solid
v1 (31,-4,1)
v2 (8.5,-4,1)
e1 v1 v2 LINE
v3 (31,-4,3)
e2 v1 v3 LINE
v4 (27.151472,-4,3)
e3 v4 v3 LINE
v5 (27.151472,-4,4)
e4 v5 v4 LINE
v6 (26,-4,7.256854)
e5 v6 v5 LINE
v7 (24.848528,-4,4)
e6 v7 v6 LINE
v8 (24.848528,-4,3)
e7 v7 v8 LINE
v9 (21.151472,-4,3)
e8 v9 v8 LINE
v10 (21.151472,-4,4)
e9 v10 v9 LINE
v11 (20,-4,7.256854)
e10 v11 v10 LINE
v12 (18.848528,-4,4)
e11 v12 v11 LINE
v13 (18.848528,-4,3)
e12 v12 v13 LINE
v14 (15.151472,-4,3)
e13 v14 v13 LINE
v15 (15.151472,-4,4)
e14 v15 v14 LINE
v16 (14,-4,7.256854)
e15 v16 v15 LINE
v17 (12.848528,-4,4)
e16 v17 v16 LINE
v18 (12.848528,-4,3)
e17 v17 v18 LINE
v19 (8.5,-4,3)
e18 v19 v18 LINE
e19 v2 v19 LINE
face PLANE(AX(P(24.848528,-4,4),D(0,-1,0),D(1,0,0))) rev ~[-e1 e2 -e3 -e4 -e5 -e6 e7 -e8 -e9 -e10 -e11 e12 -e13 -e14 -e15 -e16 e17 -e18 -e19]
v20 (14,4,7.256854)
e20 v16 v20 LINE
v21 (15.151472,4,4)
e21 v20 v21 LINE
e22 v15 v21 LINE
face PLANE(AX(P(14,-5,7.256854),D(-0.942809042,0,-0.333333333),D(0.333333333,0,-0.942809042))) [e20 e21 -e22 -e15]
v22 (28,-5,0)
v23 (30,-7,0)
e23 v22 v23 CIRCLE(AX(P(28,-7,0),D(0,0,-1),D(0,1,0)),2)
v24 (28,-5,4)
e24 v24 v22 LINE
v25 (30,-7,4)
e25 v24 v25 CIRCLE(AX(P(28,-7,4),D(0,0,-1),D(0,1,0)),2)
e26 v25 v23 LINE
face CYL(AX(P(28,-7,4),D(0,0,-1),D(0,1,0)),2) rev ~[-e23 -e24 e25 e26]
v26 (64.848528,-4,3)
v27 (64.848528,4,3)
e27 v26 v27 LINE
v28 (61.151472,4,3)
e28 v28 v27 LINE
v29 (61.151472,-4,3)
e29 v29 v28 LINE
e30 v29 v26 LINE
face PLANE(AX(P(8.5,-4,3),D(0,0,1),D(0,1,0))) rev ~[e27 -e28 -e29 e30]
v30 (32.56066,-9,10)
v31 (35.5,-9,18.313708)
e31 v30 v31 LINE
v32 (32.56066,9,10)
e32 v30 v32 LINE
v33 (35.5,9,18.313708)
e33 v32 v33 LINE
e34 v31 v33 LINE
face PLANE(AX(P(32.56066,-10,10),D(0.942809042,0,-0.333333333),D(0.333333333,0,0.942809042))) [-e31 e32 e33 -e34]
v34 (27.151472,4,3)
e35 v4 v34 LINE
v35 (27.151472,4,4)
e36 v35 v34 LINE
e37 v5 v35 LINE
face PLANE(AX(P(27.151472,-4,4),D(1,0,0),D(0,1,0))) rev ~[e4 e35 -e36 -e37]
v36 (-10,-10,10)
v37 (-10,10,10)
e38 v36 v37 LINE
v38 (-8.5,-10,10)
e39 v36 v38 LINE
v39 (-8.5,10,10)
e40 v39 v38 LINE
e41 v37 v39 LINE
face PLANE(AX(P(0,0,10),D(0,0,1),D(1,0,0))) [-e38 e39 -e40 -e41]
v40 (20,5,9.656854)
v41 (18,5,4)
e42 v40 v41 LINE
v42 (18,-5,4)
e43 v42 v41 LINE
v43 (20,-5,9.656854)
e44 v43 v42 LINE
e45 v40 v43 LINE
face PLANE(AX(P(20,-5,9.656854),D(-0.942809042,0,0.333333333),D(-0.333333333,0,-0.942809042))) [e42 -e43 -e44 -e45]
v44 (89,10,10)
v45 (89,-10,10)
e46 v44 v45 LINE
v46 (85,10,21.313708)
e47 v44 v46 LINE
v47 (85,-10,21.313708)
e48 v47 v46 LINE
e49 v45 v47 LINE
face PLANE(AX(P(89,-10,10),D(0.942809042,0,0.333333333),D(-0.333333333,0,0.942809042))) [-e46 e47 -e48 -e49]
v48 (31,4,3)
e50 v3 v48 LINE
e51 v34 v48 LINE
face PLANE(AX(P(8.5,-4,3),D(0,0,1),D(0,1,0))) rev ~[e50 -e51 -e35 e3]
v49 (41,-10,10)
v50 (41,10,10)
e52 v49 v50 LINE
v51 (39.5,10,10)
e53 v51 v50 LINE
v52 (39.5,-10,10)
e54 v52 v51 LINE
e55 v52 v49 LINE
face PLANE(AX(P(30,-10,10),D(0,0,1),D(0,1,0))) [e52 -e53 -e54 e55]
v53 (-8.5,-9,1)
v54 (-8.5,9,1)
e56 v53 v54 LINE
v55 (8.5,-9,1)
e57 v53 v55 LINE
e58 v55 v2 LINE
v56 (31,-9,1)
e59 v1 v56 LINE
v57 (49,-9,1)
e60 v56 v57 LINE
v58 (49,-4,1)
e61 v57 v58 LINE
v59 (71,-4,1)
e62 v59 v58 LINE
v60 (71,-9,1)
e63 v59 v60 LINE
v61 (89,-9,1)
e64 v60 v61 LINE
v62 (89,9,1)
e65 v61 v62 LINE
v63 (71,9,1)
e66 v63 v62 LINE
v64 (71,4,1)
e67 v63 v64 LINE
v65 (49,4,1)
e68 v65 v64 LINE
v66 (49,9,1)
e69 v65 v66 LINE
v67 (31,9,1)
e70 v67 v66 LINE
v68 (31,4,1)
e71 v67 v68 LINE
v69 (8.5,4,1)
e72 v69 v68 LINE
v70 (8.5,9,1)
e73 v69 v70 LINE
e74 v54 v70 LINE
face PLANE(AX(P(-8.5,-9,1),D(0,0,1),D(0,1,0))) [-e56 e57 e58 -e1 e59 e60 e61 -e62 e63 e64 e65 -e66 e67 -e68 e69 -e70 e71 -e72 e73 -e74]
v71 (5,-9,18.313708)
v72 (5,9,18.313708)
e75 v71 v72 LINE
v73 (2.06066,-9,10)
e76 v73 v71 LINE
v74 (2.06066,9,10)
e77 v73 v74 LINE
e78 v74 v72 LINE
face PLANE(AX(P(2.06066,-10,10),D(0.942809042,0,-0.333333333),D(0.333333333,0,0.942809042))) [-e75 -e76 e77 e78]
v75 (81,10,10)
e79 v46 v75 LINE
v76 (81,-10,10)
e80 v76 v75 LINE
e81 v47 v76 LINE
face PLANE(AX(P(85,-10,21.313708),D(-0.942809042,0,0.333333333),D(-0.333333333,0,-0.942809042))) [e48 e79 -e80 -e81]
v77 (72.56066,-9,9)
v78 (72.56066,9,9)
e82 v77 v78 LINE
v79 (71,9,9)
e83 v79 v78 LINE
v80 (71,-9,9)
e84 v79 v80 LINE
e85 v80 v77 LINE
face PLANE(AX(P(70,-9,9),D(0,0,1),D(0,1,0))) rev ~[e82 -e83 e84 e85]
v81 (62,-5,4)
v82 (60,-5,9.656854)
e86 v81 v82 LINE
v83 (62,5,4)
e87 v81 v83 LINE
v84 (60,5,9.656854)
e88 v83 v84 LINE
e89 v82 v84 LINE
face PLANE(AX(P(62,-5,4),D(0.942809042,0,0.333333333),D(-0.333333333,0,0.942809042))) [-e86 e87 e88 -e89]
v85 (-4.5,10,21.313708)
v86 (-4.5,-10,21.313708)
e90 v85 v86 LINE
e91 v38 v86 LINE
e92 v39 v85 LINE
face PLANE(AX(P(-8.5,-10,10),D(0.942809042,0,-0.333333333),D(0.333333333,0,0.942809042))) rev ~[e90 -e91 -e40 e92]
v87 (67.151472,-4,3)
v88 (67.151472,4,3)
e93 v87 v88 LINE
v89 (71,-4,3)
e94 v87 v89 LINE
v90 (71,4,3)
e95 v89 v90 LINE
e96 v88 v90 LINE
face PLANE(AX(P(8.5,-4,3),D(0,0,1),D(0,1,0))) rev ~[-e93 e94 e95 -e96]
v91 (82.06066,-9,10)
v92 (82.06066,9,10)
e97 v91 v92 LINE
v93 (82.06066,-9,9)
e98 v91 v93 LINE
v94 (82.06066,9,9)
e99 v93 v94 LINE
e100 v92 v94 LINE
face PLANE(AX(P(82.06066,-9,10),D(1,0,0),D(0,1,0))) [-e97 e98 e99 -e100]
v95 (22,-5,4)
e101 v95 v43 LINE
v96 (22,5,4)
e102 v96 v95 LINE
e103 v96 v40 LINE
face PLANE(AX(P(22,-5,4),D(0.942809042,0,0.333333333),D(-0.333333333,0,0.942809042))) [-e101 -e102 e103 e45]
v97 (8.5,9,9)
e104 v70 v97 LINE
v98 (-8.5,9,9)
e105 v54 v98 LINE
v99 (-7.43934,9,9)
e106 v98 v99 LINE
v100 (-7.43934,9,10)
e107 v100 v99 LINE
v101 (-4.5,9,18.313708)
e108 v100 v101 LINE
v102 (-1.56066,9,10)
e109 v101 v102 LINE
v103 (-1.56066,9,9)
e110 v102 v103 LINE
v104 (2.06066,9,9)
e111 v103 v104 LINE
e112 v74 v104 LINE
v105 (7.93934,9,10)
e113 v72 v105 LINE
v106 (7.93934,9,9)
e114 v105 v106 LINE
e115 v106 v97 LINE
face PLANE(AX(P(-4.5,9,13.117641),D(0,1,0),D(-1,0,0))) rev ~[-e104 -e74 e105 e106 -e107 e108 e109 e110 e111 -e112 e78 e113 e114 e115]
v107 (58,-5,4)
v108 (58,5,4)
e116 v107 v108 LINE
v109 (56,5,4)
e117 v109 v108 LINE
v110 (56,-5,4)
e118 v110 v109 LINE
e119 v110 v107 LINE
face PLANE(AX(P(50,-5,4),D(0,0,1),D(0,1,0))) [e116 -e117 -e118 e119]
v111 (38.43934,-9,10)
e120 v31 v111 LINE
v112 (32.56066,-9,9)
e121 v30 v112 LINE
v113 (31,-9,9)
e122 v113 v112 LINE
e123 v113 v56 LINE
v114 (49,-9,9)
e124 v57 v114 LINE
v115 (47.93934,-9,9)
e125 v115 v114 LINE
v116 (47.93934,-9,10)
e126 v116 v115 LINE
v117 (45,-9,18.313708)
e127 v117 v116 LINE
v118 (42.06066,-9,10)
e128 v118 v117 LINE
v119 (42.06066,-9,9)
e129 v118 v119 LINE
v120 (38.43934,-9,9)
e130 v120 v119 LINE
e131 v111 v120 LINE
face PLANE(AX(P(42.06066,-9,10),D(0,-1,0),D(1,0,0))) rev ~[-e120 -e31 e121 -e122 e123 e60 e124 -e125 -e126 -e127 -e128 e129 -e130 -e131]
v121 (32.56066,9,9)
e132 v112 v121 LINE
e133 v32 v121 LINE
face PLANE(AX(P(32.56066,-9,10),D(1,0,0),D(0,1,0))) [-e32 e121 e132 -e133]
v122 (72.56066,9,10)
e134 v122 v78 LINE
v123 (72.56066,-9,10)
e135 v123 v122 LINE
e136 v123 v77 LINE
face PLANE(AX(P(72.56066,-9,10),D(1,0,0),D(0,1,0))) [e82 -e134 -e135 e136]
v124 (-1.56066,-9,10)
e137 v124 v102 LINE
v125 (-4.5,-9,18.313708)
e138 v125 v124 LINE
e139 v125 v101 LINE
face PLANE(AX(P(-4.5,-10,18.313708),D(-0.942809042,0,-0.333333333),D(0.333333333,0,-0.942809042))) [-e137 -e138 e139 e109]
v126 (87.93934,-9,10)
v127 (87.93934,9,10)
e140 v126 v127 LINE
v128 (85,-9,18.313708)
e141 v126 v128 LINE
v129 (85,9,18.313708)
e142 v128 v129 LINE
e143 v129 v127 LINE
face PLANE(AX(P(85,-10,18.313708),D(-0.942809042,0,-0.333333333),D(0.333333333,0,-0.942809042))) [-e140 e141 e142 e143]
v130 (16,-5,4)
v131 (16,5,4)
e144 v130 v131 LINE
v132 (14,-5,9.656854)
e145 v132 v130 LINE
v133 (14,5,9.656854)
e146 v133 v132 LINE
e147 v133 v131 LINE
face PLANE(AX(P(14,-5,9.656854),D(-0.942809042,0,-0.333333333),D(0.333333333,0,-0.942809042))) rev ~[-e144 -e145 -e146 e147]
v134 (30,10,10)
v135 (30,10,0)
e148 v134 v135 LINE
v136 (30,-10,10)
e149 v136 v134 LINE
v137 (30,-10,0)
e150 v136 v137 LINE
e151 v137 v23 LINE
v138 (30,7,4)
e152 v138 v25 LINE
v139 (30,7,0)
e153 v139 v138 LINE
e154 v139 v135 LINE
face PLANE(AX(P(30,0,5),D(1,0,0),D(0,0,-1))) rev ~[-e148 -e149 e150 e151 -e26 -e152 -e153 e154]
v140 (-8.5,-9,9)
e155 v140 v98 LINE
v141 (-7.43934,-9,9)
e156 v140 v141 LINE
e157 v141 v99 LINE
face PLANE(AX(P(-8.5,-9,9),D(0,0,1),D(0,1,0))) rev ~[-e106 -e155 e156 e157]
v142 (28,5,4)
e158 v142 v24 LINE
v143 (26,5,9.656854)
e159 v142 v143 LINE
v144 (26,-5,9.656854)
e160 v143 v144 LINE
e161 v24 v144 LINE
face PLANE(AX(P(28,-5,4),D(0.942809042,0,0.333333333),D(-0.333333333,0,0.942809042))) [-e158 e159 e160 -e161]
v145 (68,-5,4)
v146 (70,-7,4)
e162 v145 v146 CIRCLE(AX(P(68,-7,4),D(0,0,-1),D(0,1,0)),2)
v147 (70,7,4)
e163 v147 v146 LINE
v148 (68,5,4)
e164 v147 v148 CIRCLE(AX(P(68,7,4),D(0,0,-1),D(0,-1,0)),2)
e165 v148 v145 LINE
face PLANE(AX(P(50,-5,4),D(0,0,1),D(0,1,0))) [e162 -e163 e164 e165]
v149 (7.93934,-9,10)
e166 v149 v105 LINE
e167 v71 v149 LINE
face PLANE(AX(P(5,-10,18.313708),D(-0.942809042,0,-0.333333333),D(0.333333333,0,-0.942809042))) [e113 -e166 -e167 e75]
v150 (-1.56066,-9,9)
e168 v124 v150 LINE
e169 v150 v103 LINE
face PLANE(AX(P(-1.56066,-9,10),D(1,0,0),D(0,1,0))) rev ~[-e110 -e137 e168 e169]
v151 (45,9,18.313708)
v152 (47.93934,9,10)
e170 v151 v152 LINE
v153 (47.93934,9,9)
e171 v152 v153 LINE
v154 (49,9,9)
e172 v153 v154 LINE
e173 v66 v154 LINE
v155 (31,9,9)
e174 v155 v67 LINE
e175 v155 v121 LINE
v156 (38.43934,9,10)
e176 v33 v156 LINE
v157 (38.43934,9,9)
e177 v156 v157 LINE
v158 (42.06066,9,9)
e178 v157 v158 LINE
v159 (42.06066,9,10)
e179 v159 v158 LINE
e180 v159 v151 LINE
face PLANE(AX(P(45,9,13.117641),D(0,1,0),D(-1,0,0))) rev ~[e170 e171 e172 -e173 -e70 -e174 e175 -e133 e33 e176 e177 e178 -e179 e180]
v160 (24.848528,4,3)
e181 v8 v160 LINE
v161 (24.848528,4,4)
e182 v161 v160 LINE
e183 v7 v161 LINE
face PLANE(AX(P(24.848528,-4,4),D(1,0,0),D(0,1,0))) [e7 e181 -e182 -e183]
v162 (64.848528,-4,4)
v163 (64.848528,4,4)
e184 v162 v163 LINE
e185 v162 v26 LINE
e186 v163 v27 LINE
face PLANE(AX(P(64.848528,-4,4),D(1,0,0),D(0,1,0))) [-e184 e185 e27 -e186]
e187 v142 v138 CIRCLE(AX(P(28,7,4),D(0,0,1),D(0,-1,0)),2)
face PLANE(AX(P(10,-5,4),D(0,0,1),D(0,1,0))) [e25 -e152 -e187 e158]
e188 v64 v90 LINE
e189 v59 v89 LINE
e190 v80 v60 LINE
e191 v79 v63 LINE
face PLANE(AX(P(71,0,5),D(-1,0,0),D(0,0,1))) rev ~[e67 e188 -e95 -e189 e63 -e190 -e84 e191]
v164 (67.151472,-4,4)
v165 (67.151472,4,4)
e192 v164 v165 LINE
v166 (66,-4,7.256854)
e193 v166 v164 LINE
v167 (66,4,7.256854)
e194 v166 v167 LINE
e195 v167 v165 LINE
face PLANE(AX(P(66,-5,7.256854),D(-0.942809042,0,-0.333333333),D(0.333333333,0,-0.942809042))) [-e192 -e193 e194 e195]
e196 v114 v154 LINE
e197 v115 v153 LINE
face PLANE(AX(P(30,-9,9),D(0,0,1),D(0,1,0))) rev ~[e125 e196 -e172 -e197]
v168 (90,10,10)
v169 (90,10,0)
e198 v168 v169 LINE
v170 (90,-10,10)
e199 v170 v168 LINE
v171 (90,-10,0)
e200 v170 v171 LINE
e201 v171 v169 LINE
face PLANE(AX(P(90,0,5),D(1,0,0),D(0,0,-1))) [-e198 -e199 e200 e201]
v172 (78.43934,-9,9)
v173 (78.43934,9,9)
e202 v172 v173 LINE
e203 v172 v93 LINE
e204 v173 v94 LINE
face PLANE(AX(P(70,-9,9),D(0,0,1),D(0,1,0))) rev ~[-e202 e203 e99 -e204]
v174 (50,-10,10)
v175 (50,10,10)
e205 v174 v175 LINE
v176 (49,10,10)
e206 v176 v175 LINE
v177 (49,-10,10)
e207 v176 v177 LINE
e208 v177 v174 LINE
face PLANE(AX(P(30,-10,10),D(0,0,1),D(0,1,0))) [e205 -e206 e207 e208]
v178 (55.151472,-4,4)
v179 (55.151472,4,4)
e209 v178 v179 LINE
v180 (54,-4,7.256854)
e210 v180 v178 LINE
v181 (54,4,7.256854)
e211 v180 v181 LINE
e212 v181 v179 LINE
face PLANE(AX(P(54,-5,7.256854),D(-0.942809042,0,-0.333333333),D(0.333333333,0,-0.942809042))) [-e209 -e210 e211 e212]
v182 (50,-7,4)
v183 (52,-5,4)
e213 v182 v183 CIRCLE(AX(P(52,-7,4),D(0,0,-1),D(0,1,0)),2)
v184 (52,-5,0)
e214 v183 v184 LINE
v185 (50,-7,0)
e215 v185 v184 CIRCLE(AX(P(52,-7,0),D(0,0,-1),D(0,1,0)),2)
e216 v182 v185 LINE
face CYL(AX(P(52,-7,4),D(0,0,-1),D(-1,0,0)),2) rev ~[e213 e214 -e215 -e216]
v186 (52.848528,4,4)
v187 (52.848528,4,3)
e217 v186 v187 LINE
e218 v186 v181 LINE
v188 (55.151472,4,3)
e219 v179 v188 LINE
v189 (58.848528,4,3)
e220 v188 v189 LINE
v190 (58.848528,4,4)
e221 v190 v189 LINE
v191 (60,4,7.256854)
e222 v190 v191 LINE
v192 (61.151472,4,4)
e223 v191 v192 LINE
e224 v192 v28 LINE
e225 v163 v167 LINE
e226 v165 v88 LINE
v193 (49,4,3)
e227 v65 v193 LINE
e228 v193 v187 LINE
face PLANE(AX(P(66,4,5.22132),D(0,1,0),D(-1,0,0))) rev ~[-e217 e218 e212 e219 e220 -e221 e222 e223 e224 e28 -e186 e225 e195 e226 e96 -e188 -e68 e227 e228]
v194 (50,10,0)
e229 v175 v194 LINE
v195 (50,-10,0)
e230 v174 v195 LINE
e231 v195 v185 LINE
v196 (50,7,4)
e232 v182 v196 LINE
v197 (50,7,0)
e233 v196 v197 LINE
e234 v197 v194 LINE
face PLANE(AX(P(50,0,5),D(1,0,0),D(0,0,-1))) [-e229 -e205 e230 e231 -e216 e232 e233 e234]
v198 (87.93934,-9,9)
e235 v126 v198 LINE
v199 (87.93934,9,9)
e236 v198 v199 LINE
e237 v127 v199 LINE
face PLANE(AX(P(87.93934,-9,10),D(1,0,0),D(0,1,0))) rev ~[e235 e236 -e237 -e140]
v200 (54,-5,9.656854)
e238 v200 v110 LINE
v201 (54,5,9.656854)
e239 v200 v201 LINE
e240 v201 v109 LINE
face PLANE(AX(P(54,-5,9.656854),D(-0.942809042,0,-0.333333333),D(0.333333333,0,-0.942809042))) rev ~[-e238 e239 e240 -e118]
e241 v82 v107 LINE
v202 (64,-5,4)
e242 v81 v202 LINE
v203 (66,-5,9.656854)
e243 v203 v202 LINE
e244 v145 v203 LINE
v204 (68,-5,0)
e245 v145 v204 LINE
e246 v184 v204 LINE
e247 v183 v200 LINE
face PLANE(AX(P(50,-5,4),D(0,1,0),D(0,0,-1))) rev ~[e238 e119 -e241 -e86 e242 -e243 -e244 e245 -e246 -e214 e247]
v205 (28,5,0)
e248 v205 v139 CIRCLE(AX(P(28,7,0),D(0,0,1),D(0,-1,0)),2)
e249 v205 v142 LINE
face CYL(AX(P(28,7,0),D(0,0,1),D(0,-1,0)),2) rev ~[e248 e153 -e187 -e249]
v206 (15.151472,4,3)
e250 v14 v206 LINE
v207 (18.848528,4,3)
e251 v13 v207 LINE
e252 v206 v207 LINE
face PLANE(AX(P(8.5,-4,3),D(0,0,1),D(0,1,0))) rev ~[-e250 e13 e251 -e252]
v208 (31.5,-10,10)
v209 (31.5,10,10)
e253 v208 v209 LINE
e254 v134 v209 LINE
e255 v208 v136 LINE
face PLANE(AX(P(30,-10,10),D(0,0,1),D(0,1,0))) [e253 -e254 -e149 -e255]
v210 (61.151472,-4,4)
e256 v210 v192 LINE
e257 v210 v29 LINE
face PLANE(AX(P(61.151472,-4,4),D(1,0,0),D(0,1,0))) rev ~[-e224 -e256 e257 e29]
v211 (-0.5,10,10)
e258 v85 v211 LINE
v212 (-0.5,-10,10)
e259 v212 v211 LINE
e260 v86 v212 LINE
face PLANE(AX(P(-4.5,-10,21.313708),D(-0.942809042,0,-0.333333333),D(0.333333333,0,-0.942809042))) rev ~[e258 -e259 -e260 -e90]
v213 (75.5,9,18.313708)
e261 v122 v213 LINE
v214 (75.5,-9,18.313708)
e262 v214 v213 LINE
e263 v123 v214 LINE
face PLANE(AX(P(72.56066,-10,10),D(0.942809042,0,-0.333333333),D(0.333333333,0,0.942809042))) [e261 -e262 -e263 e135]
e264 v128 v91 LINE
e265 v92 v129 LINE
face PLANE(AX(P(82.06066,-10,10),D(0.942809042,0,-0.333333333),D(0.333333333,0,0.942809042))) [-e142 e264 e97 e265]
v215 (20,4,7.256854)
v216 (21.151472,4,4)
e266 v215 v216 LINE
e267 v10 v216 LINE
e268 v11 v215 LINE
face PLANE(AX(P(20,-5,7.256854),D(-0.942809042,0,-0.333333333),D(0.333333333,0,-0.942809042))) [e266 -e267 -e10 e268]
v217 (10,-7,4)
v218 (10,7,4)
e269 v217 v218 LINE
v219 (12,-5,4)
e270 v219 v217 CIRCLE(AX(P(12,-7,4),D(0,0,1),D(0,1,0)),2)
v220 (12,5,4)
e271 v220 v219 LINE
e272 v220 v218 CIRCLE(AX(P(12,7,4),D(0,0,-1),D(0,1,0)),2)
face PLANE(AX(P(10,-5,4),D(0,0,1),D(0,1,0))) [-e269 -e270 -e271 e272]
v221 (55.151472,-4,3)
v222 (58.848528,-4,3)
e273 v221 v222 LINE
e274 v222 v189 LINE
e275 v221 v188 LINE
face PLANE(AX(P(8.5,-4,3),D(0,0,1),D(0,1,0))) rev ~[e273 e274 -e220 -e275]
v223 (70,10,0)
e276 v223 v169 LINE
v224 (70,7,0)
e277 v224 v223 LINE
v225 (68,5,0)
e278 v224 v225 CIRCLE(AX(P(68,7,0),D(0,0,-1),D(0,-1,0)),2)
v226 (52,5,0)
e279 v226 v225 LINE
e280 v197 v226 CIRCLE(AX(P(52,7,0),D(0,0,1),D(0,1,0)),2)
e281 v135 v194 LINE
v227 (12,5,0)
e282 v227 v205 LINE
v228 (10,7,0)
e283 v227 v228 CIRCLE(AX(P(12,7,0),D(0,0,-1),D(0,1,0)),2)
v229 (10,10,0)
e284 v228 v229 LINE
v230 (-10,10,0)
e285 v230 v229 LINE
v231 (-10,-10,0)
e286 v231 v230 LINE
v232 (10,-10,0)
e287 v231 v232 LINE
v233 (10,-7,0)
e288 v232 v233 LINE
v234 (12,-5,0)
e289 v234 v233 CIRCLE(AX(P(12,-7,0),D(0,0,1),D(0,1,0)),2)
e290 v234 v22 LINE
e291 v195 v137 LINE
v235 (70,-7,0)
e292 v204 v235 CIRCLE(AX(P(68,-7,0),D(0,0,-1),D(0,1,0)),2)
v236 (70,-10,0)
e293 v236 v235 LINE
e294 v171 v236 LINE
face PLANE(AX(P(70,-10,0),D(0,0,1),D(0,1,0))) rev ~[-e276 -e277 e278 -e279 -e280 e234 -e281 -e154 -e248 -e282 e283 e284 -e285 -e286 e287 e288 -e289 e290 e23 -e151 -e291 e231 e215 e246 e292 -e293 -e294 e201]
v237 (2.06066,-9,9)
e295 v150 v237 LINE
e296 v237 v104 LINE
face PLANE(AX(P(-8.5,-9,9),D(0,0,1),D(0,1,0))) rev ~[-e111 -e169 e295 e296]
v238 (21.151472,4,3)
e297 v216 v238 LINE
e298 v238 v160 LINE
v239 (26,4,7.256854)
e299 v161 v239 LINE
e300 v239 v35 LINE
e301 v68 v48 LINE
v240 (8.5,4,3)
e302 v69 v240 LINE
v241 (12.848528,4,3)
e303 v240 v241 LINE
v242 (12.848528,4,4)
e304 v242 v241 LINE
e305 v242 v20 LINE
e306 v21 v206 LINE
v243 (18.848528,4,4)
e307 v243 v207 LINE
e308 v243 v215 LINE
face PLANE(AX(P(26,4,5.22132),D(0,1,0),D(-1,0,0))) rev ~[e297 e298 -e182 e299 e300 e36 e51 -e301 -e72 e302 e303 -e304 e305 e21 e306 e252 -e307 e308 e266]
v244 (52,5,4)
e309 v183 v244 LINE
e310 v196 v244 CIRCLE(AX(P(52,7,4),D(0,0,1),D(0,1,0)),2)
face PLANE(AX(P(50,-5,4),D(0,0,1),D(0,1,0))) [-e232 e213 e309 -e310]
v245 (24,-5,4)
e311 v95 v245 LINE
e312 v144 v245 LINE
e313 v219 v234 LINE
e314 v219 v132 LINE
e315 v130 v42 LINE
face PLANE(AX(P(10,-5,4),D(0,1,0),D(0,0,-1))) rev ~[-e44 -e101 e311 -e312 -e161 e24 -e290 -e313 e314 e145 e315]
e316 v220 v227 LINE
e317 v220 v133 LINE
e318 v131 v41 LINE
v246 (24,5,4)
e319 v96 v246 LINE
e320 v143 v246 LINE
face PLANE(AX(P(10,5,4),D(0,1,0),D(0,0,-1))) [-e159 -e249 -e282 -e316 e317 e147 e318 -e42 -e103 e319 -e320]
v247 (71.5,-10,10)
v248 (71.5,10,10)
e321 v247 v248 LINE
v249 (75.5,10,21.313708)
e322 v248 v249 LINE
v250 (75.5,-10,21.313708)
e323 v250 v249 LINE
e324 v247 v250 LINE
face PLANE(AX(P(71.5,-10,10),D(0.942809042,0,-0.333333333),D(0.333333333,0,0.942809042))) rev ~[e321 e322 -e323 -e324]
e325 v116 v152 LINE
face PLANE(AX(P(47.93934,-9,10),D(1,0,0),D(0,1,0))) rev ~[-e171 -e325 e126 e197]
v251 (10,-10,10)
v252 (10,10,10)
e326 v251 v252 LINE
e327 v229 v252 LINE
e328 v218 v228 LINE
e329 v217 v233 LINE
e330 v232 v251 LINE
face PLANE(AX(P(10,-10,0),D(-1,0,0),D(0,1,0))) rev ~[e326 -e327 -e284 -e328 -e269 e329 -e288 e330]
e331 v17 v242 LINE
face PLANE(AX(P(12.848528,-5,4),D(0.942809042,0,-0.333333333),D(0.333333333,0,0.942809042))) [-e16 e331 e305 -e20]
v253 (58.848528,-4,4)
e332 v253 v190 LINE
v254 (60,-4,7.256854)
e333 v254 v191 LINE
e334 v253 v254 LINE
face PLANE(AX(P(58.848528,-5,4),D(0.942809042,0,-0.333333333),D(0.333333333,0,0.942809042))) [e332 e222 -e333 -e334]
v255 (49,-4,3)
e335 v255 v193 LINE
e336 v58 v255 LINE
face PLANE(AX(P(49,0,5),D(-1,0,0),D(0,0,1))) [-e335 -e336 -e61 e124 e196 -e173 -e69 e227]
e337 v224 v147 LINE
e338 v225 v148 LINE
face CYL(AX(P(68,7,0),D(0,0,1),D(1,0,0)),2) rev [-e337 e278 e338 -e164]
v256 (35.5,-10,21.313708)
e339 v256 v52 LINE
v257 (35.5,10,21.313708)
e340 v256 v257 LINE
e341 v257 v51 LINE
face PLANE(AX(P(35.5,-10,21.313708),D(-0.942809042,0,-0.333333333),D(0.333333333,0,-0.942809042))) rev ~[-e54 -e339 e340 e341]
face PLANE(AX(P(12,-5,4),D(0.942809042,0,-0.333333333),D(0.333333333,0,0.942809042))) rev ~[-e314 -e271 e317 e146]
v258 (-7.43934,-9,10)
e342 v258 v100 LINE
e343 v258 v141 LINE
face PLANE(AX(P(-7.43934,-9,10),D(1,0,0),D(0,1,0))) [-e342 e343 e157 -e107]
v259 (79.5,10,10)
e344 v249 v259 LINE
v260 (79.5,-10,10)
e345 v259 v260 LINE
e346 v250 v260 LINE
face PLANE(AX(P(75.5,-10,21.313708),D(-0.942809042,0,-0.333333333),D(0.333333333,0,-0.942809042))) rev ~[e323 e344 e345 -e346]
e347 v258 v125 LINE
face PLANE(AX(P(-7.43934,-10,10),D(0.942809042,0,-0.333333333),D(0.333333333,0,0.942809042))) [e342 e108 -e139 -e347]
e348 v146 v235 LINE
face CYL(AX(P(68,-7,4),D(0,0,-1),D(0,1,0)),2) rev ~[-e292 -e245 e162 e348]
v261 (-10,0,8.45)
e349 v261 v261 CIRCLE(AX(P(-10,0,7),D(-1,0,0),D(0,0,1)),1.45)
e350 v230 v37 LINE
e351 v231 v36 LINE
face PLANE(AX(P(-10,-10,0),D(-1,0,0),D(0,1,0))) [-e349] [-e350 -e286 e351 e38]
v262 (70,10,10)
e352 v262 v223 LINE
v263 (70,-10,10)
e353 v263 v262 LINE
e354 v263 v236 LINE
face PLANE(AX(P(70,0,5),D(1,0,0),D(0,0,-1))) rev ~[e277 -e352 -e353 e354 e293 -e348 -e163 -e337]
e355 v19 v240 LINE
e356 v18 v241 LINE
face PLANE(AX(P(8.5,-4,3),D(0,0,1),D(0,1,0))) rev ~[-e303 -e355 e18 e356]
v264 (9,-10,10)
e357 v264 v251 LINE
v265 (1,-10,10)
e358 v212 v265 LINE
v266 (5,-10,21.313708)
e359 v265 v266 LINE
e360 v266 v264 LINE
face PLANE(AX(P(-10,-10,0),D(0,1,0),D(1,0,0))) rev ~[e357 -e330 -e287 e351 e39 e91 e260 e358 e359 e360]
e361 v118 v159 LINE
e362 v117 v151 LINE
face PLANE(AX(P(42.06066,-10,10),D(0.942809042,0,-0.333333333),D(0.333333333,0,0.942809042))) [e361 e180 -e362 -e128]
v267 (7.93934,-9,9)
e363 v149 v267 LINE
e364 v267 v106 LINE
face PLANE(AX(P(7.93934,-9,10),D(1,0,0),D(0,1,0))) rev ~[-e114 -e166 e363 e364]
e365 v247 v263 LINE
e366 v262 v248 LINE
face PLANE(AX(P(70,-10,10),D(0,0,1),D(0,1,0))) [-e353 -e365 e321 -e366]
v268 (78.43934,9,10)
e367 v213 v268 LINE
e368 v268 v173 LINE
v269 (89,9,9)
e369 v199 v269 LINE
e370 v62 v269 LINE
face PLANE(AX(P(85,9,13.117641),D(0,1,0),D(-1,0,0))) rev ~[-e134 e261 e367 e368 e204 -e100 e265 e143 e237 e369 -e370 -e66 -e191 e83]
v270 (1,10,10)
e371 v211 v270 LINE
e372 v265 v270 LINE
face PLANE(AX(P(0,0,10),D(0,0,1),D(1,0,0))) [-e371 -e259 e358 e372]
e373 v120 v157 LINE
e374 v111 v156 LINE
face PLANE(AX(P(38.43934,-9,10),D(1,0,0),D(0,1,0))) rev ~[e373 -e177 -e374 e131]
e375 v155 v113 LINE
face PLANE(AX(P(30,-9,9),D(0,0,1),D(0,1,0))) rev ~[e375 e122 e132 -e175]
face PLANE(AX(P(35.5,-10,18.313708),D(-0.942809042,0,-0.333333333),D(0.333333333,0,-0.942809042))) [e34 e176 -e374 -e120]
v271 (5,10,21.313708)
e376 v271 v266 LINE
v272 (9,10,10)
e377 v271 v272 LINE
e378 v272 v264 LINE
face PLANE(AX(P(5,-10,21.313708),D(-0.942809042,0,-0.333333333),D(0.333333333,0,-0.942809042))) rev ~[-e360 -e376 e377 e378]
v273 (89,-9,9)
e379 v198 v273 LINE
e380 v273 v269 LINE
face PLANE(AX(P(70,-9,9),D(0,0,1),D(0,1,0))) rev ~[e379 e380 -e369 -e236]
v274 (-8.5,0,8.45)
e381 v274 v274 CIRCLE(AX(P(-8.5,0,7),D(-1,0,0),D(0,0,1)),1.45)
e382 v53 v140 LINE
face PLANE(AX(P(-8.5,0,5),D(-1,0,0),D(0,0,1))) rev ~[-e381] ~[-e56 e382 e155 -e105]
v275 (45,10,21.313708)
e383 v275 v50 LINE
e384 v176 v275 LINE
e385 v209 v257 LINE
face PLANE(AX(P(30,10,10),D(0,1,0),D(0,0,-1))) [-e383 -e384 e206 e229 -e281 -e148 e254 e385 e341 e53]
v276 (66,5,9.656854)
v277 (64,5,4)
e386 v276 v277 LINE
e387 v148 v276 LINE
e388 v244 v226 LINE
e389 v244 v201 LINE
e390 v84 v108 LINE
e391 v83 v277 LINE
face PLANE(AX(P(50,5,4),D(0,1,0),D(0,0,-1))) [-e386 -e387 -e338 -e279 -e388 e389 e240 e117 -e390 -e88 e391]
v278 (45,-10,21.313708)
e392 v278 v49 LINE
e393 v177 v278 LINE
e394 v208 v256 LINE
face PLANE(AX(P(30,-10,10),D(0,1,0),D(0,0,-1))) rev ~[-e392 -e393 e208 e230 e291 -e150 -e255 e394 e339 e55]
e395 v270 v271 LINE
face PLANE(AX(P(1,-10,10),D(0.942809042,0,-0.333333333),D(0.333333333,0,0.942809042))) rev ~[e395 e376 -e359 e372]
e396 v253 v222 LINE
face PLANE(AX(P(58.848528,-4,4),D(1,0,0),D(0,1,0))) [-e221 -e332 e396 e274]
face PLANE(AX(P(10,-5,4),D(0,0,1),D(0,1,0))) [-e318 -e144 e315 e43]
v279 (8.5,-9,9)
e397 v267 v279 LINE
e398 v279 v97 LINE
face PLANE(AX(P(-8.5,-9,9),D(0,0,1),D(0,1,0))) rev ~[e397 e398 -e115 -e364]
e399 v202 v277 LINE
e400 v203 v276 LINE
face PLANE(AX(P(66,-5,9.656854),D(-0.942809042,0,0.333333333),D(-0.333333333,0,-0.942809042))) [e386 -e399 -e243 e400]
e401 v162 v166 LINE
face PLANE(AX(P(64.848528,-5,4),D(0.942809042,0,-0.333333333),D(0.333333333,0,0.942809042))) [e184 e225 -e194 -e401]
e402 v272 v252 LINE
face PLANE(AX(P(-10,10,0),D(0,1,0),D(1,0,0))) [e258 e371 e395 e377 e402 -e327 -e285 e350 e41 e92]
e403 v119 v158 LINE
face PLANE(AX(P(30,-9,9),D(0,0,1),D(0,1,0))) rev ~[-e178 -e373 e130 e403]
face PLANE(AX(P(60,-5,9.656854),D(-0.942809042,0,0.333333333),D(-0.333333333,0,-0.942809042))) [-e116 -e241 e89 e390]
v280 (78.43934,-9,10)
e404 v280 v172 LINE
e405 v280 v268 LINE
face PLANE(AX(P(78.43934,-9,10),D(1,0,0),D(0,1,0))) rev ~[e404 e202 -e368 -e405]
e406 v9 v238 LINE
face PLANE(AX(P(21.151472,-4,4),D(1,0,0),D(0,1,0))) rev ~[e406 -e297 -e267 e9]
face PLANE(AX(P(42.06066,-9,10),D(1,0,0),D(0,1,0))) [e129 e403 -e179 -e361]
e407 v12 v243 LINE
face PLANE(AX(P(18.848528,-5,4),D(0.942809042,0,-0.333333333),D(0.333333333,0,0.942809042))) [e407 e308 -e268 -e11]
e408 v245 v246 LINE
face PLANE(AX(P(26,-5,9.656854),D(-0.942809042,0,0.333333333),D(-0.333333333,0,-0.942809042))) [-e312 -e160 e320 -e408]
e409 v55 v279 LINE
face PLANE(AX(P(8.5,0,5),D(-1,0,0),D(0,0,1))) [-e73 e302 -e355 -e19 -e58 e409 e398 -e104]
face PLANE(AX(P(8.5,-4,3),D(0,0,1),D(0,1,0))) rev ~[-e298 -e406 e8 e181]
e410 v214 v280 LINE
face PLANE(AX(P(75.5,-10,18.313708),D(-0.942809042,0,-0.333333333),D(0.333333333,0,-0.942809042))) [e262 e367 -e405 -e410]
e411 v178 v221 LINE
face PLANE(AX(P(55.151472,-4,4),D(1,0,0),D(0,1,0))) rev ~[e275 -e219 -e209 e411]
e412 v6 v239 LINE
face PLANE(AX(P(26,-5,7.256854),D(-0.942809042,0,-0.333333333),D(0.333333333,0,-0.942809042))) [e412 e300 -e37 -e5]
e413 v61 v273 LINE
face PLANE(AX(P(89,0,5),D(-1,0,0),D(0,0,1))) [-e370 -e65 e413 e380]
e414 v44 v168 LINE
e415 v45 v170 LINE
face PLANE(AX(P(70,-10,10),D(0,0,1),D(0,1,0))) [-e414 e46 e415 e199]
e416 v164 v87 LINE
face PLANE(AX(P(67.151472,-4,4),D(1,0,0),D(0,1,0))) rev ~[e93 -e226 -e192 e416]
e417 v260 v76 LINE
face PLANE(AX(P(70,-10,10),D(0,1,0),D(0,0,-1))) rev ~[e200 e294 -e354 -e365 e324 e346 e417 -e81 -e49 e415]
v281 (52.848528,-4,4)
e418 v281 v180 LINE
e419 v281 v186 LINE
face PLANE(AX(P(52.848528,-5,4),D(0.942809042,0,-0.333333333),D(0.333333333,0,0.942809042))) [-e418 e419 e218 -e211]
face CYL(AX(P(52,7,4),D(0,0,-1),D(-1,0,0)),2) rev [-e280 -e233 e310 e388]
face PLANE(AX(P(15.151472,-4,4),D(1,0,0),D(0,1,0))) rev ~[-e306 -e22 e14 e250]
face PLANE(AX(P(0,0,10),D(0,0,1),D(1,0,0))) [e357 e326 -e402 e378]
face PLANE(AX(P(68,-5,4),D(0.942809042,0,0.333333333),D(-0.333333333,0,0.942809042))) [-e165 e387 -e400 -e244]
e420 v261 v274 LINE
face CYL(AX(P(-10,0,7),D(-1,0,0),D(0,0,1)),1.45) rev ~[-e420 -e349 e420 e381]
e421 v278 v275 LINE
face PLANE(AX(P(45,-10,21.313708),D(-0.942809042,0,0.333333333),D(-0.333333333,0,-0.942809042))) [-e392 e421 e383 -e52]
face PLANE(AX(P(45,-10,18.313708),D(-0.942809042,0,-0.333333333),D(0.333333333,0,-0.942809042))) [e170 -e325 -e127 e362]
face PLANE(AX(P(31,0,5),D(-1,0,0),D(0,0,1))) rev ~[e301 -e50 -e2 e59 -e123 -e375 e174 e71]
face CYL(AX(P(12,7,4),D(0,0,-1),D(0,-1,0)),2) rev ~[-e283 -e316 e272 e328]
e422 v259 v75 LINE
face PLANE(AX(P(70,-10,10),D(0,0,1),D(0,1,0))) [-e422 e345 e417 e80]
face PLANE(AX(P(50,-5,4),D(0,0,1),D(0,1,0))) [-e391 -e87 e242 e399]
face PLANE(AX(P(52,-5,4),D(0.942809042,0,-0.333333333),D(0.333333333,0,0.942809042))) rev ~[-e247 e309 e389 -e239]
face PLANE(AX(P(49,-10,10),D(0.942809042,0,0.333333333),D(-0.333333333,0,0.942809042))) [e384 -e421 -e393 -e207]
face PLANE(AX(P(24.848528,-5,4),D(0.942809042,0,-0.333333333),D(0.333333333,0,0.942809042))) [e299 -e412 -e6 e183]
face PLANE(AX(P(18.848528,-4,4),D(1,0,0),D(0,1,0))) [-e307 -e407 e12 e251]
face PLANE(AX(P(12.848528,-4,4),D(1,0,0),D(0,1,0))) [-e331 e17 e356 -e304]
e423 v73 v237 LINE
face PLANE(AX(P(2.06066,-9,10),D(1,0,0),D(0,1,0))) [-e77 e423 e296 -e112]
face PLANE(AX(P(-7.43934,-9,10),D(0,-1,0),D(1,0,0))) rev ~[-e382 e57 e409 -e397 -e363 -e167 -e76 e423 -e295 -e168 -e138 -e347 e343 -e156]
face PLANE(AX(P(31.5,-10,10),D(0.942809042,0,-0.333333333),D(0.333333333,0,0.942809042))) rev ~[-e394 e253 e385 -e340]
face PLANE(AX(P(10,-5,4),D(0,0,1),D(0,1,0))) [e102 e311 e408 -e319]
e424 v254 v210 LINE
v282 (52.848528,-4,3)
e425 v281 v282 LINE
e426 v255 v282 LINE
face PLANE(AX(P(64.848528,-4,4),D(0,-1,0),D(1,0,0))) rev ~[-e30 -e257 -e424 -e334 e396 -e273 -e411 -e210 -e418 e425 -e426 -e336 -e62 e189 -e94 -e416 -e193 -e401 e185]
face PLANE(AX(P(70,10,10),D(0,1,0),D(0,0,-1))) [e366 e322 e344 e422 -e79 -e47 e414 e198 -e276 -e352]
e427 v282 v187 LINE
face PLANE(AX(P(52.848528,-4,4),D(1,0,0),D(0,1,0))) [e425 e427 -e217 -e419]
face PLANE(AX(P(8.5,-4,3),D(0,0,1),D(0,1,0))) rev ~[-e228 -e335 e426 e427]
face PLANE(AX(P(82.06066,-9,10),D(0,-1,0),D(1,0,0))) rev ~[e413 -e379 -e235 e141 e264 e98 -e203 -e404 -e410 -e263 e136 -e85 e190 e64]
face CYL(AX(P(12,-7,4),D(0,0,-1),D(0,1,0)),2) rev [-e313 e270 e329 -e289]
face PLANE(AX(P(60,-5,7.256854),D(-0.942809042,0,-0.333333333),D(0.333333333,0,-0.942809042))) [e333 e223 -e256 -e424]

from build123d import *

# Parameters (mm, degrees)
SKETCH1_W            = 20
SKETCH1_H            = 20
BOSS_EXTRUDE1_DEPTH  = 10
SKETCH2_W            = 4
SKETCH2_H            = 10
BOSS_EXTRUDE2_DEPTH  = 20
SKETCH3_W            = 10
SKETCH3_H            = 20
BOSS_EXTRUDE3_DEPTH  = 20
SKETCH4_W            = 4
SKETCH4_H            = 10
BOSS_EXTRUDE4_DEPTH  = 20
SKETCH5_W            = 10
SKETCH5_H            = 20
BOSS_EXTRUDE5_DEPTH  = 20
BOSS_EXTRUDE6_DEPTH  = 20
BOSS_EXTRUDE7_DEPTH  = 20
BOSS_EXTRUDE8_DEPTH  = 10
SKETCH9_R            = 1.45
CUT_EXTRUDE1_DEPTH   = 1.5
SKETCH10_W           = 8
SKETCH10_H           = 18
CUT_EXTRUDE2_DEPTH   = 17
SKETCH13_W           = 8
SKETCH13_H           = 18
CUT_EXTRUDE4_DEPTH   = 19
SKETCH14_W           = 10
SKETCH14_H           = 20
BOSS_EXTRUDE9_DEPTH  = 1
SKETCH15_W           = 8
SKETCH15_H           = 18
CUT_EXTRUDE5_DEPTH   = 19
SKETCH16_W           = 10
SKETCH16_H           = 20
BOSS_EXTRUDE10_DEPTH = 1
SKETCH12_W           = 2
SKETCH12_H           = 8
CUT_EXTRUDE3_DEPTH   = 80
CUT_EXTRUDE7_DEPTH   = 19
SKETCH19_W           = 5.878679656
SKETCH19_H           = 18
CUT_EXTRUDE8_DEPTH   = 5
BOSS_EXTRUDE12_DEPTH = 1
CUT_EXTRUDE10_DEPTH  = 9
SKETCH23_W           = 2.302943726
SKETCH23_H           = 8
CUT_EXTRUDE11_DEPTH  = 3
BOSS_EXTRUDE13_DEPTH = 1
FILLET3_R            = 2
FILLET4_R            = 2


with BuildPart() as part:
    # Sketch1 → Boss-Extrude1 (new body)
    with BuildSketch(Plane.XY):
        Rectangle(SKETCH1_W, SKETCH1_H)
    extrude(amount=BOSS_EXTRUDE1_DEPTH)

    # Sketch2 → Boss-Extrude2 (add)
    with BuildSketch(Plane(origin=(10, 0, 0), x_dir=(0, 0, -1), z_dir=(1, 0, 0))):
        with Locations((-2, 0)):
            Rectangle(SKETCH2_W, SKETCH2_H)
    extrude(amount=BOSS_EXTRUDE2_DEPTH)

    # Sketch3 → Boss-Extrude3 (add)
    with BuildSketch(Plane(origin=(30, 0, 0), x_dir=(0, 0, -1), z_dir=(1, 0, 0))):
        with Locations((-5, 0)):
            Rectangle(SKETCH3_W, SKETCH3_H)
    extrude(amount=BOSS_EXTRUDE3_DEPTH)

    # Sketch4 → Boss-Extrude4 (add)
    with BuildSketch(Plane(origin=(50, 0, 0), x_dir=(0, 0, -1), z_dir=(1, 0, 0))):
        with Locations((-2, 0)):
            Rectangle(SKETCH4_W, SKETCH4_H)
    extrude(amount=BOSS_EXTRUDE4_DEPTH)

    # Sketch5 → Boss-Extrude5 (add)
    with BuildSketch(Plane(origin=(70, 0, 0), x_dir=(0, 0, -1), z_dir=(1, 0, 0))):
        with Locations((-5, 0)):
            Rectangle(SKETCH5_W, SKETCH5_H)
    extrude(amount=BOSS_EXTRUDE5_DEPTH)

    # Sketch6 → Boss-Extrude6 (add)
    with BuildSketch(Plane.XZ.offset(10)):
        Polygon((-8.5, 10), (-4.5, 21.313708499), (-0.5, 10), align=None)
        Polygon((9, 10), (1, 10), (5, 21.313708499), align=None)
    extrude(amount=-BOSS_EXTRUDE6_DEPTH)

    # Sketch7 → Boss-Extrude7 (add)
    with BuildSketch(Plane.XZ.offset(10)):
        Polygon((31.5, 10), (35.5, 21.313708499), (39.5, 10), align=None)
        Polygon((71.5, 10), (75.5, 21.313708499), (79.5, 10), align=None)
        Polygon((41, 10), (49, 10), (45, 21.313708499), align=None)
        Polygon((81, 10), (89, 10), (85, 21.313708499), align=None)
    extrude(amount=-BOSS_EXTRUDE7_DEPTH)

    # Sketch8 → Boss-Extrude8 (add)
    with BuildSketch(Plane.XZ.offset(5)):
        Polygon((12, 4), (14, 9.656854249), (16, 4), align=None)
        Polygon((52, 4), (54, 9.656854249), (56, 4), align=None)
        Polygon((18, 4), (22, 4), (20, 9.656854249), align=None)
        Polygon((58, 4), (62, 4), (60, 9.656854249), align=None)
        Polygon((24, 4), (28, 4), (26, 9.656854249), align=None)
        Polygon((64, 4), (68, 4), (66, 9.656854249), align=None)
    extrude(amount=-BOSS_EXTRUDE8_DEPTH)

    # Sketch9 → Cut-Extrude1 (cut)
    with BuildSketch(Plane.ZY.offset(10)):
        with Locations((7, 0)):
            Circle(SKETCH9_R)
    extrude(amount=-CUT_EXTRUDE1_DEPTH, mode=Mode.SUBTRACT)

    # Sketch10 → Cut-Extrude2 (cut)
    with BuildSketch(Plane.ZY.offset(8.5)):
        with Locations((5, 0)):
            Rectangle(SKETCH10_W, SKETCH10_H)
    extrude(amount=-CUT_EXTRUDE2_DEPTH, mode=Mode.SUBTRACT)

    # Sketch13 → Cut-Extrude4 (cut)
    with BuildSketch(Plane.ZY.offset(-30)):
        with Locations((5, 0)):
            Rectangle(SKETCH13_W, SKETCH13_H)
    extrude(amount=-CUT_EXTRUDE4_DEPTH, mode=Mode.SUBTRACT)

    # Sketch14 → Boss-Extrude9 (add)
    with BuildSketch(Plane.ZY.offset(-30)):
        with Locations((5, 0)):
            Rectangle(SKETCH14_W, SKETCH14_H)
    extrude(amount=-BOSS_EXTRUDE9_DEPTH)

    # Sketch15 → Cut-Extrude5 (cut)
    with BuildSketch(Plane.ZY.offset(-70)):
        with Locations((5, 0)):
            Rectangle(SKETCH15_W, SKETCH15_H)
    extrude(amount=-CUT_EXTRUDE5_DEPTH, mode=Mode.SUBTRACT)

    # Sketch16 → Boss-Extrude10 (add)
    with BuildSketch(Plane.ZY.offset(-70)):
        with Locations((5, 0)):
            Rectangle(SKETCH16_W, SKETCH16_H)
    extrude(amount=-BOSS_EXTRUDE10_DEPTH)

    # Sketch12 → Cut-Extrude3 (cut)
    with BuildSketch(Plane.ZY.offset(-8.5)):
        with Locations((2, 0)):
            Rectangle(SKETCH12_W, SKETCH12_H)
    extrude(amount=-CUT_EXTRUDE3_DEPTH, mode=Mode.SUBTRACT)

    # Sketch17 → Cut-Extrude7 (cut)
    with BuildSketch(Plane.XZ.offset(10)):
        Polygon((-7.439339828, 10), (-4.5, 18.313708499), (-1.560660172, 10), align=None)
        Polygon((32.560660172, 10), (35.5, 18.313708499), (38.439339828, 10), align=None)
        Polygon((72.560660172, 10), (75.5, 18.313708499), (78.439339828, 10), align=None)
        Polygon((7.939339828, 10), (2.060660172, 10), (5, 18.313708499), align=None)
        Polygon((47.939339828, 10), (42.060660172, 10), (45, 18.313708499), align=None)
        Polygon((87.939339828, 10), (82.060660172, 10), (85, 18.313708499), align=None)
    extrude(amount=-CUT_EXTRUDE7_DEPTH, mode=Mode.SUBTRACT)

    # Sketch19 → Cut-Extrude8 (cut)
    with BuildSketch(Plane.XY.offset(10)):
        with Locations((-4.5, 0)):
            Rectangle(SKETCH19_W, SKETCH19_H)
        with Locations((35.5, 0)):
            Rectangle(SKETCH19_W, SKETCH19_H)
        with Locations((75.5, 0)):
            Rectangle(SKETCH19_W, SKETCH19_H)
        with Locations((5, 0)):
            Rectangle(SKETCH19_W, SKETCH19_H)
        with Locations((45, 0)):
            Rectangle(SKETCH19_W, SKETCH19_H)
        with Locations((85, 0)):
            Rectangle(SKETCH19_W, SKETCH19_H)
    extrude(amount=-CUT_EXTRUDE8_DEPTH, mode=Mode.SUBTRACT)

    # Sketch21 → Boss-Extrude12 (add)
    with BuildSketch(Plane.XZ.offset(10)):
        Polygon((-8.5, 10), (-4.5, 21.313708499), (-0.5, 10), align=None)
        Polygon((31.5, 10), (35.5, 21.313708499), (39.5, 10), align=None)
        Polygon((71.5, 10), (75.5, 21.313708499), (79.5, 10), align=None)
        Polygon((9, 10), (1, 10), (5, 21.313708499), align=None)
        Polygon((49, 10), (41, 10), (45, 21.313708499), align=None)
        Polygon((81, 10), (89, 10), (85, 21.313708499), align=None)
    extrude(amount=-BOSS_EXTRUDE12_DEPTH)

    # Sketch22 → Cut-Extrude10 (cut)
    with BuildSketch(Plane.XZ.offset(5)):
        Polygon((12.848528137, 4), (14, 7.256854249), (15.151471863, 4), align=None)
        Polygon((52.848528137, 4), (54, 7.256854249), (55.151471863, 4), align=None)
        Polygon((21.151471863, 4), (18.848528137, 4), (20, 7.256854249), align=None)
        Polygon((61.151471863, 4), (58.848528137, 4), (60, 7.256854249), align=None)
        Polygon((27.151471863, 4), (24.848528137, 4), (26, 7.256854249), align=None)
        Polygon((67.151471863, 4), (64.848528137, 4), (66, 7.256854249), align=None)
    extrude(amount=-CUT_EXTRUDE10_DEPTH, mode=Mode.SUBTRACT)

    # Sketch23 → Cut-Extrude11 (cut)
    with BuildSketch(Plane.XY.offset(4)):
        with Locations((14, 0)):
            Rectangle(SKETCH23_W, SKETCH23_H)
        with Locations((54, 0)):
            Rectangle(SKETCH23_W, SKETCH23_H)
        with Locations((20, 0)):
            Rectangle(SKETCH23_W, SKETCH23_H)
        with Locations((60, 0)):
            Rectangle(SKETCH23_W, SKETCH23_H)
        with Locations((26, 0)):
            Rectangle(SKETCH23_W, SKETCH23_H)
        with Locations((66, 0)):
            Rectangle(SKETCH23_W, SKETCH23_H)
    extrude(amount=-CUT_EXTRUDE11_DEPTH, mode=Mode.SUBTRACT)

    # Sketch24 → Boss-Extrude13 (add)
    with BuildSketch(Plane.XZ.offset(5)):
        Polygon((12, 4), (14, 9.656854249), (16, 4), align=None)
        Polygon((52, 4), (54, 9.656854249), (56, 4), align=None)
        Polygon((22, 4), (18, 4), (20, 9.656854249), align=None)
        Polygon((62, 4), (58, 4), (60, 9.656854249), align=None)
        Polygon((28, 4), (24, 4), (26, 9.656854249), align=None)
        Polygon((68, 4), (64, 4), (66, 9.656854249), align=None)
    extrude(amount=-BOSS_EXTRUDE13_DEPTH)

    # Fillet3
    fillet3_edges = [part.edges().sort_by_distance(p)[0] for p in [
        (10, -5, 2),
    ]]
    fillet(fillet3_edges, radius=FILLET3_R)

    # Fillet4
    fillet4_edges = [part.edges().sort_by_distance(p)[0] for p in [
        (30, 5, 2),
        (50, 5, 2),
        (10, 5, 2),
        (70, 5, 2),
        (50, -5, 2),
        (70, -5, 2),
        (30, -5, 2),
    ]]
    fillet(fillet4_edges, radius=FILLET4_R)


solid = part.part
